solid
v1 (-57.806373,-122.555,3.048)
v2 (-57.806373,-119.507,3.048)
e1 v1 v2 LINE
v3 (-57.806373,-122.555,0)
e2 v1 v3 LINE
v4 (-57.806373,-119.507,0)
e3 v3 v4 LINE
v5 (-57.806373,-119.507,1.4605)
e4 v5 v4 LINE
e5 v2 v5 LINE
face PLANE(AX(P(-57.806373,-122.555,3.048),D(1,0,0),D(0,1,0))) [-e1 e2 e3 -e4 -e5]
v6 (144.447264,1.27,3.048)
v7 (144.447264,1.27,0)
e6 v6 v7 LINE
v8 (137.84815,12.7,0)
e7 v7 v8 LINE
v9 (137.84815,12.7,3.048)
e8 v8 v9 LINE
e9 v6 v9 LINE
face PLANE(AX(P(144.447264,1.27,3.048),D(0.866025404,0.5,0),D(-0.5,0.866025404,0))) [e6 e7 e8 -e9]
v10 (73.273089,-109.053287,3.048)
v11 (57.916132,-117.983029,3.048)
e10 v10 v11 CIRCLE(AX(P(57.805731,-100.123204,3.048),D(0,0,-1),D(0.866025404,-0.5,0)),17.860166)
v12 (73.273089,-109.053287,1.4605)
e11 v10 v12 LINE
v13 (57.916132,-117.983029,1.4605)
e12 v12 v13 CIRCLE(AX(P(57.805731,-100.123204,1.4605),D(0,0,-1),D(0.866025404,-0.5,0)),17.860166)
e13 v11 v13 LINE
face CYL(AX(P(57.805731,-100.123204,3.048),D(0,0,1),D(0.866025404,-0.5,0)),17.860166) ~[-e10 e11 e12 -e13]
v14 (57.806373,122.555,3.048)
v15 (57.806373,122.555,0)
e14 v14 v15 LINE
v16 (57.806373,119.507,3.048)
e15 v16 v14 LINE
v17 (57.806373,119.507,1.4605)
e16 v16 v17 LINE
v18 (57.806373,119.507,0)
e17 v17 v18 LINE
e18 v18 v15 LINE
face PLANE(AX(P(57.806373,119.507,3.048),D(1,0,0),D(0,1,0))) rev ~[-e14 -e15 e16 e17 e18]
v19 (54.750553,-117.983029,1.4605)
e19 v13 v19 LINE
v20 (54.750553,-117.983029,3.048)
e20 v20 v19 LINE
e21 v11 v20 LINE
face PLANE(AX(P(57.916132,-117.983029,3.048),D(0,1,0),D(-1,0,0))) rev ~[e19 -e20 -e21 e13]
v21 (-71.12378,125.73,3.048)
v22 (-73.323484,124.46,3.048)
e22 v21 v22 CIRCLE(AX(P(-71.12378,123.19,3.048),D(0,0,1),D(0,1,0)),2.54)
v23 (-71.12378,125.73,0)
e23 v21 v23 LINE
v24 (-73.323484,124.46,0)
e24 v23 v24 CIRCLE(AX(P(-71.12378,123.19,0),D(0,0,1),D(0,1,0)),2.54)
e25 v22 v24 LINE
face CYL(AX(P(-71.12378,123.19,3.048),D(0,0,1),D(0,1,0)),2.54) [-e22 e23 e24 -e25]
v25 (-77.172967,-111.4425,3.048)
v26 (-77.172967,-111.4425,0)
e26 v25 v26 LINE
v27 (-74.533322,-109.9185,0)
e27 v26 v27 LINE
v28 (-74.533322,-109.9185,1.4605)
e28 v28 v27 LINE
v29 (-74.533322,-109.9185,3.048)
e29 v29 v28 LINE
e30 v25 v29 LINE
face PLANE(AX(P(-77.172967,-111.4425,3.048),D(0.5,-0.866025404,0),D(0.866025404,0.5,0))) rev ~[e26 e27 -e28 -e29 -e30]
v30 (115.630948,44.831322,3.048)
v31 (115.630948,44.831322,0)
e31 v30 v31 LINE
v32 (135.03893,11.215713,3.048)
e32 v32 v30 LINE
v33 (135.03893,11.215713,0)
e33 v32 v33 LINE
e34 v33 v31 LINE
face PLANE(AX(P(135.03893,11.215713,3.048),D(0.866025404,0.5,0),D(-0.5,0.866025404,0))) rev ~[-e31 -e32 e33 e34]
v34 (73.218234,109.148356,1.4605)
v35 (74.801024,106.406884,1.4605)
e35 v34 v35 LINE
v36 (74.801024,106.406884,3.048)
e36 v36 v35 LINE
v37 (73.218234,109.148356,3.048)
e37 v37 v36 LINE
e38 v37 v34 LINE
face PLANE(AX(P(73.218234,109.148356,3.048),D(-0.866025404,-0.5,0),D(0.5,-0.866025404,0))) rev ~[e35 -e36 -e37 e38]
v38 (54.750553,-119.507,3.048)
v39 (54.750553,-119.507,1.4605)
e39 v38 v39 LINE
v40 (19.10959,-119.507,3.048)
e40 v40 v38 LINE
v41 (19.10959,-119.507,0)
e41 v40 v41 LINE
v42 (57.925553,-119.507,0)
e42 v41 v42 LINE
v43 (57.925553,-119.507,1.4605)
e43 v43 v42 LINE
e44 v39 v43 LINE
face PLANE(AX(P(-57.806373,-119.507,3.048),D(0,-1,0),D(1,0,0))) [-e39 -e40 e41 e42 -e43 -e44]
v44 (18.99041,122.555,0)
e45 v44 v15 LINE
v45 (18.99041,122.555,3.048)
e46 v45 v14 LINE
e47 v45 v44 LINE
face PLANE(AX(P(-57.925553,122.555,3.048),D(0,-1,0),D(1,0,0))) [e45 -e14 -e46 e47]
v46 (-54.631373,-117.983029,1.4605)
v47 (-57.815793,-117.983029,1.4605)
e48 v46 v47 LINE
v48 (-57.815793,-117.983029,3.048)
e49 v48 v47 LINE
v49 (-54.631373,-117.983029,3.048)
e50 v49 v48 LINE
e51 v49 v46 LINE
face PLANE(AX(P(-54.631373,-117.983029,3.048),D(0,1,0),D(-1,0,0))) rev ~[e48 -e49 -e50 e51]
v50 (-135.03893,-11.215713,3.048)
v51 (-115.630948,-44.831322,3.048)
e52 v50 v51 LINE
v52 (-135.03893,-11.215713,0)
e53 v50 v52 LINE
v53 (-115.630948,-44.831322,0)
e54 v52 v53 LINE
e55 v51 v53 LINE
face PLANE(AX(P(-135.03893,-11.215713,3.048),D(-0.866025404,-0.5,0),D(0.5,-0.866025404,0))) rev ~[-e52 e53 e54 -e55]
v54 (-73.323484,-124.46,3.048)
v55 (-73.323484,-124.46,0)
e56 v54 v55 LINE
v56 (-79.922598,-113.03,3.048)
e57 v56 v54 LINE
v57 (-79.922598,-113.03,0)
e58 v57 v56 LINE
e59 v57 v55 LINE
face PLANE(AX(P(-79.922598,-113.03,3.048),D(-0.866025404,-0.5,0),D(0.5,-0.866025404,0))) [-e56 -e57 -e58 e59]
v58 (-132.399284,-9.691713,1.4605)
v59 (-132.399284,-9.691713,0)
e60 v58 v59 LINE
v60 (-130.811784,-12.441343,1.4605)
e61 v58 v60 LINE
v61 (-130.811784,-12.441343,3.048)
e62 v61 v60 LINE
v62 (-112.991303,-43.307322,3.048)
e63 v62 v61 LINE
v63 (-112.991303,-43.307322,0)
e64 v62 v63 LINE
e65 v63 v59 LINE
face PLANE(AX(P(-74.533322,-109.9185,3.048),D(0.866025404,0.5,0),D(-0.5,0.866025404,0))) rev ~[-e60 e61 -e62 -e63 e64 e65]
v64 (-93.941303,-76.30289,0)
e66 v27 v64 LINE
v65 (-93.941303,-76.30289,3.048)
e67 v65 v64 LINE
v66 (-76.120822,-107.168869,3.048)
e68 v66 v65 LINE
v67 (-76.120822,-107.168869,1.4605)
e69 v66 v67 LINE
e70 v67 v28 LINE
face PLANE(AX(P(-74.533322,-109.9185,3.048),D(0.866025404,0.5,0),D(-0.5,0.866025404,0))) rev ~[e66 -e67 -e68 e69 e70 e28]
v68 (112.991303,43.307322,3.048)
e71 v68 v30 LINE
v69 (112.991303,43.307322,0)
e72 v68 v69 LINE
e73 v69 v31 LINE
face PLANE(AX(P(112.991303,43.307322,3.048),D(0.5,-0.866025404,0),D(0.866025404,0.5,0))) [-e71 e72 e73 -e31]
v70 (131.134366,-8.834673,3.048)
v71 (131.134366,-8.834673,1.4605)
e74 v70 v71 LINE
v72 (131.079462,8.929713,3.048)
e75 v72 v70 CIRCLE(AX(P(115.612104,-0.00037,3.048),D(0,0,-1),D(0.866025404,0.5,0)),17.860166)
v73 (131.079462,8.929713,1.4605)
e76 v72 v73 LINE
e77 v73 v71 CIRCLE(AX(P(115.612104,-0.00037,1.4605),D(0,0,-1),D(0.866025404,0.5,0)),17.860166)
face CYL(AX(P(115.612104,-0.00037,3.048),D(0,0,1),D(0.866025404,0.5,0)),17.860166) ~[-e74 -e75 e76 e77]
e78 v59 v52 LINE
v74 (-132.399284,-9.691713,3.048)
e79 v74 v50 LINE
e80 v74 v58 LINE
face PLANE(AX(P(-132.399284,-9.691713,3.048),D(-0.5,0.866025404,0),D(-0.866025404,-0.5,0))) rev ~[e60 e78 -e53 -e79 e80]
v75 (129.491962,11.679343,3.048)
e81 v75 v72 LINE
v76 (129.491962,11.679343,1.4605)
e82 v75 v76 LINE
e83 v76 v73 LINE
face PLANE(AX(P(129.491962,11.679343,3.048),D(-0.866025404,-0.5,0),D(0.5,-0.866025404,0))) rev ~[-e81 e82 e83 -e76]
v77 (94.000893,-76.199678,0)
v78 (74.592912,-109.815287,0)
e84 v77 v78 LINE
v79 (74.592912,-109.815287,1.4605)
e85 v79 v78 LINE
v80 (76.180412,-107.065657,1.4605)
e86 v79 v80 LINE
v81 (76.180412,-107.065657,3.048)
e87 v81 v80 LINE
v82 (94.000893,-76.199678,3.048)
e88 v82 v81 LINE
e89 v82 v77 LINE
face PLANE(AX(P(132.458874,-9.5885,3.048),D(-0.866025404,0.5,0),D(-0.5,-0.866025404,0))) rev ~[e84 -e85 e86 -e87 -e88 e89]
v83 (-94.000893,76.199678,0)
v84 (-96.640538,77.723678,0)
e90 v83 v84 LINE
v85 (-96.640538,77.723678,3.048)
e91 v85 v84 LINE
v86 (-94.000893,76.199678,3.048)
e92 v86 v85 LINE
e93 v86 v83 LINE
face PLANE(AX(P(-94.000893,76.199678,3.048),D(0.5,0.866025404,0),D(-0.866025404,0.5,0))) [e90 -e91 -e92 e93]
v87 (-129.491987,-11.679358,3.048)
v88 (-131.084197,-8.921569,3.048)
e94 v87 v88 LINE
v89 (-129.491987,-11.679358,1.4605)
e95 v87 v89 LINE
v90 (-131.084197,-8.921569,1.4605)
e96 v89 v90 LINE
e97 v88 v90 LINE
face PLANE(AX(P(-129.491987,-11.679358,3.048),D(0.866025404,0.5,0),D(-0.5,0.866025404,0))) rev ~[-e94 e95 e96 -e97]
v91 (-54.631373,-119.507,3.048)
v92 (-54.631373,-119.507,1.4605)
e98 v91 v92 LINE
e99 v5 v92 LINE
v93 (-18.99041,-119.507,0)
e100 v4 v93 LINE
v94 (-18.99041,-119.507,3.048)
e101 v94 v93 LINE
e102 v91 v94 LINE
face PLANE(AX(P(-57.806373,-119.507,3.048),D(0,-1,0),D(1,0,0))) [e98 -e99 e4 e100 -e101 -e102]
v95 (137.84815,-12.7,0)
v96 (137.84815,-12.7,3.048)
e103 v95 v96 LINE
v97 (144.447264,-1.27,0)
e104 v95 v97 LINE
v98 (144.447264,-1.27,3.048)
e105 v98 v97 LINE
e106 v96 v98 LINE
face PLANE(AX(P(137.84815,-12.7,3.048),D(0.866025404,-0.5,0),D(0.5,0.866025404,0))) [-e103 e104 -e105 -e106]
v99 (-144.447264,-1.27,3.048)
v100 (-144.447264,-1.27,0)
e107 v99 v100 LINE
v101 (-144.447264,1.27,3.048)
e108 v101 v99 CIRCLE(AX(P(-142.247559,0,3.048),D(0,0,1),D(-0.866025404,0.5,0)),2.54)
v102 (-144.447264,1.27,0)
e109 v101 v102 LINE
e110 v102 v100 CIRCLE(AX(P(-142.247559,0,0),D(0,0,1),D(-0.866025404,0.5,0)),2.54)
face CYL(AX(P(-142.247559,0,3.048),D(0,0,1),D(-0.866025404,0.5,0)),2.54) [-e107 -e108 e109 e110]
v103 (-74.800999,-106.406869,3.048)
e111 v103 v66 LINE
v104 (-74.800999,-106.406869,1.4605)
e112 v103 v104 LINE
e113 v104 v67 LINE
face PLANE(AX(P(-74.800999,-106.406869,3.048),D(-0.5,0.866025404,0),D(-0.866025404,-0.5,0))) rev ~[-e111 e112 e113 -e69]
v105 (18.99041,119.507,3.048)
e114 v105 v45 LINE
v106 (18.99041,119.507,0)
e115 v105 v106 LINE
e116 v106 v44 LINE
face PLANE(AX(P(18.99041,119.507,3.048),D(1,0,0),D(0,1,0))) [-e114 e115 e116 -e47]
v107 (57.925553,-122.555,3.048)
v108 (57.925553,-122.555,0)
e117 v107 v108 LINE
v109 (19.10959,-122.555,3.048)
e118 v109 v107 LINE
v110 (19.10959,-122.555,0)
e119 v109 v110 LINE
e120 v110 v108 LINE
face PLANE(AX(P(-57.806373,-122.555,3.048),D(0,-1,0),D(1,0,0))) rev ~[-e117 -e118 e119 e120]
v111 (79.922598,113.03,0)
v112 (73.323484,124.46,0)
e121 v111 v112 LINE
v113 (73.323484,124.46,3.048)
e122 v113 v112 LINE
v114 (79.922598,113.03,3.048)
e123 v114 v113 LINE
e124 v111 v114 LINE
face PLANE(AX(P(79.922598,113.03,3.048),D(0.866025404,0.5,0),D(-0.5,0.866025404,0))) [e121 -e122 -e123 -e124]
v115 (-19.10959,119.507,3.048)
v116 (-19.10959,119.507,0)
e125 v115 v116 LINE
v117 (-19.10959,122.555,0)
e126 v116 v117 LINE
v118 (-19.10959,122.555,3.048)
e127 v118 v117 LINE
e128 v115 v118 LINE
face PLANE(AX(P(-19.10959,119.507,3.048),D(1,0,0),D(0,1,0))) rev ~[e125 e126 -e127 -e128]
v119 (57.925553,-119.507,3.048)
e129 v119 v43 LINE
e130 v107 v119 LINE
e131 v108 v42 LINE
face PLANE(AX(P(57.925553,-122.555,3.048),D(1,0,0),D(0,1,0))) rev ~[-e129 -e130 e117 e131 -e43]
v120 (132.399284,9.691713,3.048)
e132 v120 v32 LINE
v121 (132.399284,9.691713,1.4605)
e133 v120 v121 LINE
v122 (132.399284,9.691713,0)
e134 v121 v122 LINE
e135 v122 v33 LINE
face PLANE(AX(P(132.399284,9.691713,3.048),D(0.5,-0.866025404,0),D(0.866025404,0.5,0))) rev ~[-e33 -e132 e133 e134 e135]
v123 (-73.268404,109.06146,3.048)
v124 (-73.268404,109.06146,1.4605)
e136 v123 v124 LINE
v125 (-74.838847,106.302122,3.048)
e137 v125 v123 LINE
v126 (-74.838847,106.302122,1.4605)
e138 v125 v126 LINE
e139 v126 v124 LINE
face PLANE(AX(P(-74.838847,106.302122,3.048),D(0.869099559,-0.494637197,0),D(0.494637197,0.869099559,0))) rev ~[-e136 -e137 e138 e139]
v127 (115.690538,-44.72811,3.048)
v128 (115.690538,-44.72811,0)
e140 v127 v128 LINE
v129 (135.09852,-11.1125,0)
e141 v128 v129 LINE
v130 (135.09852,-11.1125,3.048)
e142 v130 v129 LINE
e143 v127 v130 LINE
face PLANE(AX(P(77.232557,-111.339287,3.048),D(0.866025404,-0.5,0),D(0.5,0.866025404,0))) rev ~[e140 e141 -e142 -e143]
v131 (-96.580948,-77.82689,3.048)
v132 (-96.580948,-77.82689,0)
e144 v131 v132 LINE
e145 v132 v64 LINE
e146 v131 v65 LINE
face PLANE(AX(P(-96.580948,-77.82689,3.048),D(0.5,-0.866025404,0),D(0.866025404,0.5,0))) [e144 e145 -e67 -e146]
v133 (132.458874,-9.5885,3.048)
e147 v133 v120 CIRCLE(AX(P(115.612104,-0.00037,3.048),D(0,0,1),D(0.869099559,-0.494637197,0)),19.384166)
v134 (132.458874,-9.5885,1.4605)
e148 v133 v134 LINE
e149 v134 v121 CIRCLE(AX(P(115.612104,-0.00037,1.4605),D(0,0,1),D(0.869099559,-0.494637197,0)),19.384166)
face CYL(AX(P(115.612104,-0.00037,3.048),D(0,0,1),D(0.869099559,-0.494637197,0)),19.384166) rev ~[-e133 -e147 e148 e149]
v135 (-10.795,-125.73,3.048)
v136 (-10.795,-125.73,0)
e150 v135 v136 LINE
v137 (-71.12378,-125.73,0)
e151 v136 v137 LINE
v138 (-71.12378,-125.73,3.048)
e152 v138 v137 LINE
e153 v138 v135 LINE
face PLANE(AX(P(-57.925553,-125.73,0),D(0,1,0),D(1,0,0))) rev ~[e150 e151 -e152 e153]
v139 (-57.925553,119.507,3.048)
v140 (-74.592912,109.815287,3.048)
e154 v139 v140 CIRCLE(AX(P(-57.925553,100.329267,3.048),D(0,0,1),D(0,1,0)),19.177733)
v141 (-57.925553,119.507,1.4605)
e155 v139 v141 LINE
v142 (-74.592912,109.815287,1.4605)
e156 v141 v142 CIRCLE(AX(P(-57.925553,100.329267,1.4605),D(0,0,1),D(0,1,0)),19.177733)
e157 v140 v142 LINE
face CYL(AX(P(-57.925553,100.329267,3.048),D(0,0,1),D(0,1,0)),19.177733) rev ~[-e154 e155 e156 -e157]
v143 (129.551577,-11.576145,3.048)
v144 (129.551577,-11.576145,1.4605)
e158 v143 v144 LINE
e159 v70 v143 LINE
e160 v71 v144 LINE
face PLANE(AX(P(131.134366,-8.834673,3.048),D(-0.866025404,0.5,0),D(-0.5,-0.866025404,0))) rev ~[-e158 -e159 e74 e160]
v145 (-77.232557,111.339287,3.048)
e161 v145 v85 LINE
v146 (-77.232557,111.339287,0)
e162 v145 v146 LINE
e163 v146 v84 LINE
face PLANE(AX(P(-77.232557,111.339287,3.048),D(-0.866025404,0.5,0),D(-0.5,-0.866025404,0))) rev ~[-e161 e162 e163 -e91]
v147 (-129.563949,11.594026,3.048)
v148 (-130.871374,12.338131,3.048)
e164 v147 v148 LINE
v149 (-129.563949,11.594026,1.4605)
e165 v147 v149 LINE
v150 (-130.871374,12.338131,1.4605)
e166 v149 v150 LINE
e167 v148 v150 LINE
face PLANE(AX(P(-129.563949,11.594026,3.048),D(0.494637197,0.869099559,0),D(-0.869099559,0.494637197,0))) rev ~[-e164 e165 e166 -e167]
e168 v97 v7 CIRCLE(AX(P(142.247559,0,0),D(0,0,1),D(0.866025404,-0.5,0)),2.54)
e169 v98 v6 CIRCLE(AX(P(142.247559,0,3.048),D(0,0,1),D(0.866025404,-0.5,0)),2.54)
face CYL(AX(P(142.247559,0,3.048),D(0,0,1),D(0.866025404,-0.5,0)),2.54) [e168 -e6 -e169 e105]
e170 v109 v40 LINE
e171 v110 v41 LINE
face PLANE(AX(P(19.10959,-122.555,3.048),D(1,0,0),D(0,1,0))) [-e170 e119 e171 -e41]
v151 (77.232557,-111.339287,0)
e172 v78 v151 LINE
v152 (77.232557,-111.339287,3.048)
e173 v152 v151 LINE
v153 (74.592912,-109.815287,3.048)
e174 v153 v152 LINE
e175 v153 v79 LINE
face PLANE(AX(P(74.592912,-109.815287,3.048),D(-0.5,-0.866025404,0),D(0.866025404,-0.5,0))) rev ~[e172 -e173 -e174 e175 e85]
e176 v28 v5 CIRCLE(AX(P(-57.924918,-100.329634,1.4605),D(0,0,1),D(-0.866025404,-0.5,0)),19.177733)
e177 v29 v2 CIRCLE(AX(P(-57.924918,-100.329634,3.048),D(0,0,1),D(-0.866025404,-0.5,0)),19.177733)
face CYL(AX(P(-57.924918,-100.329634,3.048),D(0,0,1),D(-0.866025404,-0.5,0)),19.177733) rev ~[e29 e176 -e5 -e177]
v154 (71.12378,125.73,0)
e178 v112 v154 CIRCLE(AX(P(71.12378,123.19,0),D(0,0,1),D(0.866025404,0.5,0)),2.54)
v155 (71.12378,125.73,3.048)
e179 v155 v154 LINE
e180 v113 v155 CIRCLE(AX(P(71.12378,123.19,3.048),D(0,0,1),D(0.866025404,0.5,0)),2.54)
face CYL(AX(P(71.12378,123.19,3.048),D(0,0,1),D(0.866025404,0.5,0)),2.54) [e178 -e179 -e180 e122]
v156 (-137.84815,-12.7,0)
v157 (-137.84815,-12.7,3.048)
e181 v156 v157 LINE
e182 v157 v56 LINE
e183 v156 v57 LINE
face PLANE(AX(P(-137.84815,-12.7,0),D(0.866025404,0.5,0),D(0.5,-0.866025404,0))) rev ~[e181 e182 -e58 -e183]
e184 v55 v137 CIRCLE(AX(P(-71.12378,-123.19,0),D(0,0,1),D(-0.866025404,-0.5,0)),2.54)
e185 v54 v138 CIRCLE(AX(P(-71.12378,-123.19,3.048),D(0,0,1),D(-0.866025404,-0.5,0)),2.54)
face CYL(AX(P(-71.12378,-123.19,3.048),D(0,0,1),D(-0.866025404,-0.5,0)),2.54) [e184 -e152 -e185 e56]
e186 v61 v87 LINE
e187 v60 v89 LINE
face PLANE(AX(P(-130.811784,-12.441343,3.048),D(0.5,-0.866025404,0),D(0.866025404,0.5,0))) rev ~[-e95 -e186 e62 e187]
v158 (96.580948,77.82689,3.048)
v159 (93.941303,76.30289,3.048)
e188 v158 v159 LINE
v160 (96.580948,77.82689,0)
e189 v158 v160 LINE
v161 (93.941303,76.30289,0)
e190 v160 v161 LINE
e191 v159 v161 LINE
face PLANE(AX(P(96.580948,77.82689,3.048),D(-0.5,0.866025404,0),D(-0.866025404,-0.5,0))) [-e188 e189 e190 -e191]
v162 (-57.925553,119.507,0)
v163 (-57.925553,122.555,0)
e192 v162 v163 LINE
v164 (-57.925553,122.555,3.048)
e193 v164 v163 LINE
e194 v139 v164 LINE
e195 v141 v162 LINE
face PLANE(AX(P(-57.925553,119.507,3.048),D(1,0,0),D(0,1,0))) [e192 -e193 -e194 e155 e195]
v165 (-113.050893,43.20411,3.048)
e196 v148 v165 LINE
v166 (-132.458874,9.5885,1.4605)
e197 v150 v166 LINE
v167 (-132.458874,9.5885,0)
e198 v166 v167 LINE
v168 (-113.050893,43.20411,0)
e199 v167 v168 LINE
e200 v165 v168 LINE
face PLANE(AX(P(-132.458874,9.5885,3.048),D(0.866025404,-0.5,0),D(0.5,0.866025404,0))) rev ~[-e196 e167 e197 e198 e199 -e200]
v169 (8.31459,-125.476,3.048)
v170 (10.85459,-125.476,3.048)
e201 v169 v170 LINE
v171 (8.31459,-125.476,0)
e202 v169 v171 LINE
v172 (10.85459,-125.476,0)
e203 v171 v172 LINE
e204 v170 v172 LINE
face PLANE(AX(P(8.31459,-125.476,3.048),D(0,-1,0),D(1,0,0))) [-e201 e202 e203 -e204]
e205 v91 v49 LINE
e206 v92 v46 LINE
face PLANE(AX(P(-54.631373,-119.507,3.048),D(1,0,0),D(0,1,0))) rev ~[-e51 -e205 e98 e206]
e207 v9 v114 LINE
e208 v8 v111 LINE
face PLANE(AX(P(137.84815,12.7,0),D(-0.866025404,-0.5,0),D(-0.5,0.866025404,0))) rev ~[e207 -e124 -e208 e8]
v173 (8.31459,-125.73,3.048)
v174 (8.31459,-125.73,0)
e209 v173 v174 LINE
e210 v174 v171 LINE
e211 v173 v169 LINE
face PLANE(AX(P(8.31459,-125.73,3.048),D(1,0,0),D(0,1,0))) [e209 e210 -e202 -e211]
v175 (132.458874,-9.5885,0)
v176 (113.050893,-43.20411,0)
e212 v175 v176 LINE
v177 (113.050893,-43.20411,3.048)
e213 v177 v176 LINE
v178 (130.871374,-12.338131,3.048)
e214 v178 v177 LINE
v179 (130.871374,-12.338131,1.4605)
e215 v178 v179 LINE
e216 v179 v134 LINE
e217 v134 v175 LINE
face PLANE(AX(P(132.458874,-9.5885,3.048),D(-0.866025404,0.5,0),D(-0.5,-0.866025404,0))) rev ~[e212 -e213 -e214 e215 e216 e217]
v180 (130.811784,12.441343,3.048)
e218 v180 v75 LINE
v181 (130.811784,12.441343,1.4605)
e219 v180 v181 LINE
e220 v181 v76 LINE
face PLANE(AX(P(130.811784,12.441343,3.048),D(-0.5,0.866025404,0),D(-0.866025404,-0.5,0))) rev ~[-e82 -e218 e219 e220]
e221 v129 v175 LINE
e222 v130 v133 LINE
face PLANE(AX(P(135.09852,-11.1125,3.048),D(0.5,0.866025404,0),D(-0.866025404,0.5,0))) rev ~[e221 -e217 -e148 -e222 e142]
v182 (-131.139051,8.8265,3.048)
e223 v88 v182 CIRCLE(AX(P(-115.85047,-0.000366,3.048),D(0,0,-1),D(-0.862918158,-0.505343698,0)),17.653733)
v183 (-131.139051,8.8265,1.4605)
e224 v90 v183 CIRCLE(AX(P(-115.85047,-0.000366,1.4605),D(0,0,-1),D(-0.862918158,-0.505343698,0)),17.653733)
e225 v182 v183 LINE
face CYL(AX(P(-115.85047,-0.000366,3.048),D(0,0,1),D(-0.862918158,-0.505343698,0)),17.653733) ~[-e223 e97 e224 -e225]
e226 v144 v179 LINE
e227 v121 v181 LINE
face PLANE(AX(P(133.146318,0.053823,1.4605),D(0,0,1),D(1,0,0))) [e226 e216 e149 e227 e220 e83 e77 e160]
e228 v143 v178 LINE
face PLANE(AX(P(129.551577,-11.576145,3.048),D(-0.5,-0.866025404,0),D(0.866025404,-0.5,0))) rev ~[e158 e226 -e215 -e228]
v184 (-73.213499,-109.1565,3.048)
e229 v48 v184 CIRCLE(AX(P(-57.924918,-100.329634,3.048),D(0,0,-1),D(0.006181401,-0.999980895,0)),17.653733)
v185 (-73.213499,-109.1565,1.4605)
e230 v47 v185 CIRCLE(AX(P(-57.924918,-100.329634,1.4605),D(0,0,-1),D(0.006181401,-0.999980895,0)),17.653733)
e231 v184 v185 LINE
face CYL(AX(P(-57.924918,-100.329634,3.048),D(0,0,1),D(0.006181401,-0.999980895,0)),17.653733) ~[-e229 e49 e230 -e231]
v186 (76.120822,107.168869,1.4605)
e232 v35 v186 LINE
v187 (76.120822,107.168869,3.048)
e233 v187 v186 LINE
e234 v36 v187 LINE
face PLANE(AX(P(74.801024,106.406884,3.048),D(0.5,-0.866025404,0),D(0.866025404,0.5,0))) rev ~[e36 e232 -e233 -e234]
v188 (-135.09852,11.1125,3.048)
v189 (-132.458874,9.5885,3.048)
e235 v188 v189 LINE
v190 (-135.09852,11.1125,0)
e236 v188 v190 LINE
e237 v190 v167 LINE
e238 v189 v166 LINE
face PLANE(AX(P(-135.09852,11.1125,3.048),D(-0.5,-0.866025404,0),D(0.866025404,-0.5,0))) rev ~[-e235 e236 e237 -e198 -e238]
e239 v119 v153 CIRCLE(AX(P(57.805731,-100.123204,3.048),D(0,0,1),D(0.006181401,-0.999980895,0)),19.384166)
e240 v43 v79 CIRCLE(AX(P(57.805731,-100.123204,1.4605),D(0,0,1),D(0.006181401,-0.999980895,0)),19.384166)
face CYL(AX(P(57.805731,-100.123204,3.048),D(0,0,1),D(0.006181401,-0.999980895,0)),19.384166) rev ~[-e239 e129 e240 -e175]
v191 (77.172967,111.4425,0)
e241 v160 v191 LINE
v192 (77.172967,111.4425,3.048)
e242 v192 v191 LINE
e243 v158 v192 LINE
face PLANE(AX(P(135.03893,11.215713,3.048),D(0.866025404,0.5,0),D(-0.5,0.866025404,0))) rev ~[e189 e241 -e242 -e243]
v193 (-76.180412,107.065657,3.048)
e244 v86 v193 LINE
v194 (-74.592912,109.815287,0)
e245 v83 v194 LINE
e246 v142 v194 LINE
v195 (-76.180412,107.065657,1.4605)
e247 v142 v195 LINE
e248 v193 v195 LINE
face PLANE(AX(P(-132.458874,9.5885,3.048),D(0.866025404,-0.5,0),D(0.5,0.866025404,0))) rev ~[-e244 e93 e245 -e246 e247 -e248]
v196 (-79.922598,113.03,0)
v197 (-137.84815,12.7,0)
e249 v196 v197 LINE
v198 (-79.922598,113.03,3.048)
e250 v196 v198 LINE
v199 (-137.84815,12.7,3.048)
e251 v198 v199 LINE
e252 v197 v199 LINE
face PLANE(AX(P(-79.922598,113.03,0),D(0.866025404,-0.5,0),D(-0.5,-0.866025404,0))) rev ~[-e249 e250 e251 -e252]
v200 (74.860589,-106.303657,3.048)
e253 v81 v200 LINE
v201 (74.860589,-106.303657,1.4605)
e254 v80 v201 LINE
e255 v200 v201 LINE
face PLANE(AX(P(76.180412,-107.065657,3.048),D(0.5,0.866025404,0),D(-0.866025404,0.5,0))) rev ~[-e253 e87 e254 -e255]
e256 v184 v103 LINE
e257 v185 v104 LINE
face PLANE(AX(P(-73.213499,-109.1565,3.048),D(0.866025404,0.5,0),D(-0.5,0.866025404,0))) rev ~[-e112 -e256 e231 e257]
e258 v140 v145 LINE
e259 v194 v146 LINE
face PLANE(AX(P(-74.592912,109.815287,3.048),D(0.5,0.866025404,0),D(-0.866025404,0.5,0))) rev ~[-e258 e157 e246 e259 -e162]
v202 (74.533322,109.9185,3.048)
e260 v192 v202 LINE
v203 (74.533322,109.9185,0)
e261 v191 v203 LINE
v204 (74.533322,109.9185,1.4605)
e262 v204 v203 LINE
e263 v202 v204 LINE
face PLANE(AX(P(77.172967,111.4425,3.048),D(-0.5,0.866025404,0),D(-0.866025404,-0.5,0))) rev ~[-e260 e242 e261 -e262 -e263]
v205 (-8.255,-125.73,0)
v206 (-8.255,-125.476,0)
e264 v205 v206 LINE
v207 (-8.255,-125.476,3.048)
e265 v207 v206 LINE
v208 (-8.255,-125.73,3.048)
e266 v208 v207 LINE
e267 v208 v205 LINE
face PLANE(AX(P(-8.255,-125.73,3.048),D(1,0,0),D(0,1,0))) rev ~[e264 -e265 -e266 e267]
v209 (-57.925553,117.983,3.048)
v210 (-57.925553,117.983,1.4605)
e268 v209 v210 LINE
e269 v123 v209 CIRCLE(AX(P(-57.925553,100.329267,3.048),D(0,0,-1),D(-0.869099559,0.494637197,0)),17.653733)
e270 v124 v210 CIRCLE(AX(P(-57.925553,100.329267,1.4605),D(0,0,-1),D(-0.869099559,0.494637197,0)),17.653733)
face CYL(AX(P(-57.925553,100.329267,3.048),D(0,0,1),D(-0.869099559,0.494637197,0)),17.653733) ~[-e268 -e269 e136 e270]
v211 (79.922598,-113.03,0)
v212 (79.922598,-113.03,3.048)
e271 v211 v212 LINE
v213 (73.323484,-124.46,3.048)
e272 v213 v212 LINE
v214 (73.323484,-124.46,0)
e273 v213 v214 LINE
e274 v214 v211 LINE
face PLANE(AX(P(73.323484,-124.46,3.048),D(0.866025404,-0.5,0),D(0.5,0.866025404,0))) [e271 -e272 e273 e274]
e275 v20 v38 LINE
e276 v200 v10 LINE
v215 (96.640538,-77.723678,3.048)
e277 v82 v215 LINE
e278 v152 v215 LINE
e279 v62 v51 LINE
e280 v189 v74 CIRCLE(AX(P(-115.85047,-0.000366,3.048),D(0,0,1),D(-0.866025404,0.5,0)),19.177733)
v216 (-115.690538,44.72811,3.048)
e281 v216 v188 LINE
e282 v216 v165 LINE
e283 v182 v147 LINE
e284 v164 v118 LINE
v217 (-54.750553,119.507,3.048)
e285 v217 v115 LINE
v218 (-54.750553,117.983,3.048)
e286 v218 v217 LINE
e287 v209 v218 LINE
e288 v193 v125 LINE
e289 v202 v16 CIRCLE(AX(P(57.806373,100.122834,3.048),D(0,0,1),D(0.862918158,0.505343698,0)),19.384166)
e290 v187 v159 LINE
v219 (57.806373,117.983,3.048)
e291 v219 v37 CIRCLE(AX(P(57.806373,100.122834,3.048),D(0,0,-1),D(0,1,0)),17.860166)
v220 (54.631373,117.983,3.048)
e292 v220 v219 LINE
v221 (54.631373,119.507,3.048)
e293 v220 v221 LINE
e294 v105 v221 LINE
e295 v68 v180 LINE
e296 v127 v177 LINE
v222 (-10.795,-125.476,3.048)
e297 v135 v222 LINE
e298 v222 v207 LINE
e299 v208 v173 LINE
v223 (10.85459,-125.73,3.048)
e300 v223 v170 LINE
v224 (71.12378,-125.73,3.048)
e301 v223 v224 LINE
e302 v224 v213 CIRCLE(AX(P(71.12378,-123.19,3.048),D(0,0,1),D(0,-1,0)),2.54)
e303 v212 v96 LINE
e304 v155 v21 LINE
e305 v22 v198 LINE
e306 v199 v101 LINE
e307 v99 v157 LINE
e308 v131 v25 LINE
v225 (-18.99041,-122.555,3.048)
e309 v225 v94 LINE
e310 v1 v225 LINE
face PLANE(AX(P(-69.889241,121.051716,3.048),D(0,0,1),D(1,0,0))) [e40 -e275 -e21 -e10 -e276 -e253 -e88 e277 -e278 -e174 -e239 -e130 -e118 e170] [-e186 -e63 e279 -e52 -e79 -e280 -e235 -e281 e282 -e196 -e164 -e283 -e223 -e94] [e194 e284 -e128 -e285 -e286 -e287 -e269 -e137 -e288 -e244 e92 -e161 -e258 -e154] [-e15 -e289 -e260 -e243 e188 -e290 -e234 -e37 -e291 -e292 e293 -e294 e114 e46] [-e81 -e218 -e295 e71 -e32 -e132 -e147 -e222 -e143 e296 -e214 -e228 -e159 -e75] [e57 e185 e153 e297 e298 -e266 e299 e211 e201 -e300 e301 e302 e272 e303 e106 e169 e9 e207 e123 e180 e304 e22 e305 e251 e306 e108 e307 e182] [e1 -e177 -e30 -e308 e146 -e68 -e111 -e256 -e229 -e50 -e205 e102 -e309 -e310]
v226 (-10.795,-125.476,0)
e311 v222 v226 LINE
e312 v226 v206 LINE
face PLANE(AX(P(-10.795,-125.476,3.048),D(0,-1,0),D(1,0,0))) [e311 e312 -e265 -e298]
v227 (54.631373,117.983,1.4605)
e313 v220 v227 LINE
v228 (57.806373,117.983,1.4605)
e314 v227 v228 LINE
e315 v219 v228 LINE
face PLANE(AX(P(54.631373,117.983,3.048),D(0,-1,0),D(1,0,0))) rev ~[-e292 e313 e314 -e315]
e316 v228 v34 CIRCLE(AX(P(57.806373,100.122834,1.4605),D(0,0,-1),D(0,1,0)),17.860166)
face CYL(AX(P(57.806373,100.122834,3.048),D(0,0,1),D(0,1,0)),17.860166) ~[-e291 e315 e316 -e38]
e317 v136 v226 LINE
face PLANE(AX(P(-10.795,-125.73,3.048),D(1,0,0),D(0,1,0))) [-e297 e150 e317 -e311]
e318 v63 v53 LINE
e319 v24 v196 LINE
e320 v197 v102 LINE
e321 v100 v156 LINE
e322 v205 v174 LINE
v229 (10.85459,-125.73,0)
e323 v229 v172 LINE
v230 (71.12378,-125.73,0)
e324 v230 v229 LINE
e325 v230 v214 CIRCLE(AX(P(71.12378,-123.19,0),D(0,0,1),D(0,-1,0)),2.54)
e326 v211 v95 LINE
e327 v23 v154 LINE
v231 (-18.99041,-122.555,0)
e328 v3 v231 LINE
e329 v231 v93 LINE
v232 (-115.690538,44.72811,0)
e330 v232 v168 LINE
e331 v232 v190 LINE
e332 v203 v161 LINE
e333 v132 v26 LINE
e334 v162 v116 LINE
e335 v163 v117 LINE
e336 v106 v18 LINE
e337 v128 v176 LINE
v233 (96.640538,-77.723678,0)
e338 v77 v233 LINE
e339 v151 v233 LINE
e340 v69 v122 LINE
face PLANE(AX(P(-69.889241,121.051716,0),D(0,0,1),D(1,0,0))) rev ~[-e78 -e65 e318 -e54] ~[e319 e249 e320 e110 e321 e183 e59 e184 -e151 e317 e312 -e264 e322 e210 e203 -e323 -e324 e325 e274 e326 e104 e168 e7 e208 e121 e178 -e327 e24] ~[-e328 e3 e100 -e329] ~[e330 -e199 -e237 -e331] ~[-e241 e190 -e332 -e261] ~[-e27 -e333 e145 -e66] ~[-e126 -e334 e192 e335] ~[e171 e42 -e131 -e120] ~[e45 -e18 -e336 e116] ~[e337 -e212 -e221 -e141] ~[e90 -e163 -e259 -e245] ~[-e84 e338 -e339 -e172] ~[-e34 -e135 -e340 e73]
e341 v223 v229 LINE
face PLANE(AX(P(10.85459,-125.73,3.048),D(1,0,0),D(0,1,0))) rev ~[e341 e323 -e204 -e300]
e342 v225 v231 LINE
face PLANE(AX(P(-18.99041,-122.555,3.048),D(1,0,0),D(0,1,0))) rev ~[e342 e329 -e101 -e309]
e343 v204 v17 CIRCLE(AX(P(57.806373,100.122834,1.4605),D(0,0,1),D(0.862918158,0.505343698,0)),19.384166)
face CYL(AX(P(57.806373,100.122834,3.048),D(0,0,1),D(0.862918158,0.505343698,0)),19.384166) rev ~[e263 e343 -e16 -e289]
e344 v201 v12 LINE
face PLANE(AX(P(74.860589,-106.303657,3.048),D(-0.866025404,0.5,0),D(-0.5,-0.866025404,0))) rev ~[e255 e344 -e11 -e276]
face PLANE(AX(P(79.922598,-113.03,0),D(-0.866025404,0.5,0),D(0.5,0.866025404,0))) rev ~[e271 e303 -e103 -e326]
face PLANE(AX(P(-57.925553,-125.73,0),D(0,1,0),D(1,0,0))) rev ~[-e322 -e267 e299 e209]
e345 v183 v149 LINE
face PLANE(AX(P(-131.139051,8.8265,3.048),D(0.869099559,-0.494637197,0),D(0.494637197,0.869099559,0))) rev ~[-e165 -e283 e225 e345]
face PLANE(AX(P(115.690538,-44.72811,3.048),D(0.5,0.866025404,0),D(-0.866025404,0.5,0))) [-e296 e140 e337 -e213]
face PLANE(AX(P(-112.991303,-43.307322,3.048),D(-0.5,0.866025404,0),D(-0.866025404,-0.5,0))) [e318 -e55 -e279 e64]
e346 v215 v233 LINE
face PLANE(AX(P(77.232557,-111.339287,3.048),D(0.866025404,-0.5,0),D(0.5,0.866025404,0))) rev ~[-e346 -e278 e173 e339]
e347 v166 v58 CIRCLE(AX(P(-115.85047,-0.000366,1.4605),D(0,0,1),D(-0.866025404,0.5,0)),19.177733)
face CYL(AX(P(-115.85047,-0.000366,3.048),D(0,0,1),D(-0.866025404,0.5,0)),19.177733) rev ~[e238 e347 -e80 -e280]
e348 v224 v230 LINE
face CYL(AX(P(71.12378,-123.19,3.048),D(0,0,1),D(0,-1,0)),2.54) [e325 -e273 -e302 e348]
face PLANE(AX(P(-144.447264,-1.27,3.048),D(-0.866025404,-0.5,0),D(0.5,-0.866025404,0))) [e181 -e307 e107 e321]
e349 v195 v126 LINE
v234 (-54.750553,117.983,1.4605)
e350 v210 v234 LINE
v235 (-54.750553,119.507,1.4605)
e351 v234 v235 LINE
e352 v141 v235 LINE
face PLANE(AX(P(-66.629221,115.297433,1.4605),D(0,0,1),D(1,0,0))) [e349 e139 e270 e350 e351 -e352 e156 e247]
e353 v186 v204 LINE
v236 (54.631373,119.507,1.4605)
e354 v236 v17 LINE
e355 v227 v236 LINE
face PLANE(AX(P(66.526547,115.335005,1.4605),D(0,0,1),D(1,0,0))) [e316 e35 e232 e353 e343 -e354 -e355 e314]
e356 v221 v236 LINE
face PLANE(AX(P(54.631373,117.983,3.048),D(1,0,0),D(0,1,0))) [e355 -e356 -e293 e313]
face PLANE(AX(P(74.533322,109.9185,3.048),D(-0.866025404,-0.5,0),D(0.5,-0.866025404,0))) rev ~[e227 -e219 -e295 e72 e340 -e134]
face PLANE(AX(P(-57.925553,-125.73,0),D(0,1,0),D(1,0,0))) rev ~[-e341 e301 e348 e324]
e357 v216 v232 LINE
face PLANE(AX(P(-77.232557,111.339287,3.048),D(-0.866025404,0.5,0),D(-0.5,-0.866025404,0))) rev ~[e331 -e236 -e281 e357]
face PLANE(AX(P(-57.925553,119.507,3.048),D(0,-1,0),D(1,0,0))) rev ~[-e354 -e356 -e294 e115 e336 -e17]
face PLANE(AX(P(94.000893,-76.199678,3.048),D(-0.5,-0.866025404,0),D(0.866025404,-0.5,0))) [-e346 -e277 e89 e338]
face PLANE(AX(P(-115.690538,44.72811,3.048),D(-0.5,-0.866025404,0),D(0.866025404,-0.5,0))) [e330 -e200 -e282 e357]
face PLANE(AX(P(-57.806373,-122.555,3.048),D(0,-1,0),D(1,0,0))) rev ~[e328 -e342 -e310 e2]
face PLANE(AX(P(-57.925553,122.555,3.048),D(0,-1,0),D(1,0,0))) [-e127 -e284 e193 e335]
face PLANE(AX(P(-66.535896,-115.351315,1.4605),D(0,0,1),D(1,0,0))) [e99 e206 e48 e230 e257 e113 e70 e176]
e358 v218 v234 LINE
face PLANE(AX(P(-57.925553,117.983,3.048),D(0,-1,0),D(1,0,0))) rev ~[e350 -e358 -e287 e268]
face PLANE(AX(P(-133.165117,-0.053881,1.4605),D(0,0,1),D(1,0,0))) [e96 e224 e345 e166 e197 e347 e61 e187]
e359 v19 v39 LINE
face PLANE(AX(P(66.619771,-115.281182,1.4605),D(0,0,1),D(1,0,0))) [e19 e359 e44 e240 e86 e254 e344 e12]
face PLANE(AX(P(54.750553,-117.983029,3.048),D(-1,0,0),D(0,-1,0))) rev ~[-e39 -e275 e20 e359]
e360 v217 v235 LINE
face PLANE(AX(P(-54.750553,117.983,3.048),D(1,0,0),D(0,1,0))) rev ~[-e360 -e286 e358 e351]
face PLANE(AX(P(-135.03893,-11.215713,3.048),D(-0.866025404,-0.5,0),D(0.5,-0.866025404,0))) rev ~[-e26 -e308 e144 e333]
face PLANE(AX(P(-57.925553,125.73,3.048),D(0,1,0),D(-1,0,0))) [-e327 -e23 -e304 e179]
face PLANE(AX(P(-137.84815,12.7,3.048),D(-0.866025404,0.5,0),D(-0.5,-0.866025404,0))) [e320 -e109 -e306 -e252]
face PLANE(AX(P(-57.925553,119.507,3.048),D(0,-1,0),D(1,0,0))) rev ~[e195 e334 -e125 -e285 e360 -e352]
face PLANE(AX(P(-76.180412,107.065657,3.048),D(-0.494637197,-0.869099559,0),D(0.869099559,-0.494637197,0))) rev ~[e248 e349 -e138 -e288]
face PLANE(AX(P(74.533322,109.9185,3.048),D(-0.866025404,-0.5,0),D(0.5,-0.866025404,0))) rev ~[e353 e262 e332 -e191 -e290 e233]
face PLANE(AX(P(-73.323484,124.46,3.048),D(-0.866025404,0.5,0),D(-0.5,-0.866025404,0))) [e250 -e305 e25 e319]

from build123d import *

# Parameters (mm, degrees)
F1_DEPTH  = 3.048
F2_W      = 115.7319251503
F2_H      = 3.048
F3_DEPTH  = 3.049
F5_W      = 2.54
F5_H      = 0.254
F6_DEPTH  = 3.049
F8_DEPTH  = 3.048
F9_W      = 3.175
F9_H      = 1.524
F10_DEPTH = 1.5875
F11_W     = 38.1
F11_H     = 3.048
F12_DEPTH = 3.048


with BuildPart() as f1:
    # F0 (on Top) → F1 (new body)
    with BuildSketch(Plane.XY):
        with BuildLine():
            Line((-79.9225977639, 113.03), (-137.8481502717, 12.7))
            ThreePointArc((-137.8481502717, 12.7), (-141.2511050156, 0), (-137.8481502717, -12.7))
            Line((-137.8481502717, -12.7), (-79.9225977639, -113.03))
            ThreePointArc((-79.9225977639, -113.03), (-70.6255525078, -122.3270452561), (-57.9255525078, -125.73))
            Line((-57.9255525078, -125.73), (57.9255525078, -125.73))
            ThreePointArc((57.9255525078, -125.73), (70.6255525078, -122.3270452561), (79.9225977639, -113.03))
            Line((79.9225977639, -113.03), (137.8481502717, -12.7))
            ThreePointArc((137.8481502717, -12.7), (141.2511050156, 0), (137.8481502717, 12.7))
            Line((137.8481502717, 12.7), (79.9225977639, 113.03))
            ThreePointArc((79.9225977639, 113.03), (70.6255525078, 122.3270452561), (57.9255525078, 125.73))
            Line((57.9255525078, 125.73), (-57.9255525078, 125.73))
            ThreePointArc((-57.9255525078, 125.73), (-70.6255525078, 122.3270452561), (-79.9225977639, 113.03))
        make_face()
    extrude(amount=F1_DEPTH)

    # F2 (on face) → F3 (cut, through all)
    with BuildSketch(Plane.XY.offset(3.048)):
        Polygon((-135.0389296821, -11.215712791), (-77.1729671069, -111.4425), (-74.5333216761, -109.9185), (-132.3992842513, -9.6917127909), align=None)
        Polygon((-77.2325570395, 111.339287209), (-135.0985196147, 11.1125), (-132.4588741839, 9.5885), (-74.5929116088, 109.8152872091), align=None)
        with Locations((-0.0595899326, 121.031)):
            Rectangle(F2_W, F2_H)
        Polygon((135.0389296821, 11.215712791), (77.1729671069, 111.4425), (74.5333216761, 109.9185), (132.3992842513, 9.691712791), align=None)
        Polygon((77.2325570395, -111.339287209), (135.0985196147, -11.1125), (132.4588741839, -9.5885), (74.5929116088, -109.815287209), align=None)
        with Locations((0.0595899326, -121.031)):
            Rectangle(F2_W, F2_H)
    extrude(amount=-F3_DEPTH, mode=Mode.SUBTRACT)

    # F5 (on face) → F6 (cut, through all)
    with BuildSketch(Plane.XY.offset(3.048)):
        with Locations((-9.525, -125.603)):
            Rectangle(F5_W, F5_H)
        with Locations((9.5845899326, -125.603)):
            Rectangle(F5_W, F5_H)
    extrude(amount=-F6_DEPTH, mode=Mode.SUBTRACT)

    # F7 (on face) → F8 (join)
    with BuildSketch(Plane.XY.offset(3.048)):
        with BuildLine():
            Line((-73.3234841871, 124.46), (-79.9225977639, 113.03))
            Line((-79.9225977639, 113.03), (-57.9255525078, 125.73))
            Line((-57.9255525078, 125.73), (-71.1237796615, 125.73))
            ThreePointArc((-71.1237796615, 125.73), (-72.3937796615, 125.3897045256), (-73.3234841871, 124.46))
        make_face()
        with BuildLine():
            ThreePointArc((-137.8481502717, -12.7), (-141.2511050156, 0), (-137.8481502717, 12.7))
            Line((-137.8481502717, 12.7), (-144.4472638486, 1.27))
            ThreePointArc((-144.4472638486, 1.27), (-144.7875593229, 0), (-144.4472638486, -1.27))
            Line((-144.4472638486, -1.27), (-137.8481502717, -12.7))
        make_face()
        with BuildLine():
            ThreePointArc((-57.9255525078, -125.73), (-70.6255525078, -122.3270452561), (-79.9225977639, -113.03))
            Line((-79.9225977639, -113.03), (-73.3234841871, -124.46))
            ThreePointArc((-73.3234841871, -124.46), (-72.3937796615, -125.3897045256), (-71.1237796615, -125.73))
            Line((-71.1237796615, -125.73), (-57.9255525078, -125.73))
        make_face()
        with BuildLine():
            Line((73.3234841871, -124.46), (79.9225977639, -113.03))
            ThreePointArc((79.9225977639, -113.03), (70.6255525078, -122.3270452561), (57.9255525078, -125.73))
            Line((57.9255525078, -125.73), (71.1237796615, -125.73))
            ThreePointArc((71.1237796615, -125.73), (72.3937796615, -125.3897045256), (73.3234841871, -124.46))
        make_face()
        with BuildLine():
            Line((144.4472638486, 1.27), (137.8481502717, 12.7))
            ThreePointArc((137.8481502717, 12.7), (141.2511050156, 0), (137.8481502717, -12.7))
            Line((137.8481502717, -12.7), (144.4472638486, -1.27))
            ThreePointArc((144.4472638486, -1.27), (144.7875593229, 0), (144.4472638486, 1.27))
        make_face()
        with BuildLine():
            Line((71.1237796615, 125.73), (57.9255525078, 125.73))
            ThreePointArc((57.9255525078, 125.73), (70.6255525078, 122.3270452561), (79.9225977639, 113.03))
            Line((79.9225977639, 113.03), (73.3234841871, 124.46))
            ThreePointArc((73.3234841871, 124.46), (72.3937796615, 125.3897045256), (71.1237796615, 125.73))
        make_face()
    extrude(amount=-F8_DEPTH)

    # F9 (on face) → F10 (cut)
    with BuildSketch(Plane.XY.offset(3.048)):
        with BuildLine():
            Line((-57.9255525078, 117.983), (-57.9255525078, 119.507))
            ThreePointArc((-57.9255525078, 119.507), (-67.5657049473, 116.9079552121), (-74.5929116088, 109.8152872091))
            Line((-74.5929116088, 109.8152872091), (-73.2684038811, 109.0614601206))
            ThreePointArc((-73.2684038811, 109.0614601206), (-66.7996293906, 115.5904939256), (-57.9255525078, 117.983))
        make_face()
        with Locations((-56.3380525078, 118.745)):
            Rectangle(F9_W, F9_H)
        Polygon((-73.2684038811, 109.0614601206), (-74.5929116088, 109.8152872091), (-76.1804116088, 107.065656552), (-74.8388469782, 106.3021217395), align=None)
        with BuildLine():
            Line((73.2182344036, 109.1483562046), (74.5333216761, 109.9185))
            ThreePointArc((74.5333216761, 109.9185), (67.446525082, 116.9398894425), (57.8063726425, 119.507))
            Line((57.8063726425, 119.507), (57.8063726425, 117.983))
            ThreePointArc((57.8063726425, 117.983), (66.6886079177, 115.6177179059), (73.2182344036, 109.1483562046))
        make_face()
        Polygon((76.1208216761, 107.168869343), (74.5333216761, 109.9185), (73.2182344036, 109.1483562046), (74.801024176, 106.406883901), align=None)
        with Locations((56.2188726425, 118.745)):
            Rectangle(F9_W, F9_H)
        with BuildLine():
            Line((-131.1390514686, 8.8265), (-132.4588741839, 9.5885))
            ThreePointArc((-132.4588741839, 9.5885), (-135.0281115918, -0.0596393029), (-132.3992842513, -9.6917127909))
            Line((-132.3992842513, -9.6917127909), (-131.0841969788, -8.9215689955))
            ThreePointArc((-131.0841969788, -8.9215689955), (-133.5041188708, -0.0549290528), (-131.1390514686, 8.8265))
        make_face()
        Polygon((-130.8713741839, 12.338130657), (-132.4588741839, 9.5885), (-131.1390514686, 8.8265), (-129.563948664, 11.5940256944), align=None)
        Polygon((-131.0841969788, -8.9215689955), (-132.3992842513, -9.6917127909), (-130.8117842513, -12.4413434479), (-129.4919867512, -11.679358006), align=None)
        with BuildLine():
            Line((-73.2134989608, -109.1565), (-74.5333216761, -109.9185))
            ThreePointArc((-74.5333216761, -109.9185), (-67.4624066445, -116.9675945149), (-57.8063726425, -119.507))
            Line((-57.8063726425, -119.507), (-57.8157930976, -117.983029116))
            ThreePointArc((-57.8157930976, -117.983029116), (-66.7044894803, -115.6454229784), (-73.2134989608, -109.1565))
        make_face()
        Polygon((-76.1208216761, -107.1688693429), (-74.5333216761, -109.9185), (-73.2134989608, -109.1565), (-74.8009989608, -106.4068693429), align=None)
        Polygon((-57.8157930976, -117.983029116), (-57.8063726425, -119.507), (-54.6313726425, -119.507), (-54.6313726425, -117.983029116), align=None)
        with BuildLine():
            Line((57.9161320527, -117.983029116), (57.9255525078, -119.507))
            ThreePointArc((57.9255525078, -119.507), (67.5496524319, -116.8803488392), (74.5929116088, -109.815287209))
            Line((74.5929116088, -109.815287209), (73.2730888934, -109.053287209))
            ThreePointArc((73.2730888934, -109.053287209), (66.7835768752, -115.5628875527), (57.9161320527, -117.983029116))
        make_face()
        Polygon((54.7505525078, -119.507), (57.9255525078, -119.507), (57.9161320527, -117.983029116), (54.7505525078, -117.983029116), align=None)
        Polygon((73.2730888934, -109.053287209), (74.5929116088, -109.815287209), (76.1804116088, -107.065656552), (74.8605888934, -106.303656552), align=None)
        with BuildLine():
            Line((131.1343664563, -8.8346729115), (132.4588741839, -9.5885))
            ThreePointArc((132.4588741839, -9.5885), (134.9961775139, 0.0595406033), (132.3992842513, 9.691712791))
            Line((132.3992842513, 9.691712791), (131.0794615359, 8.929712791))
            ThreePointArc((131.0794615359, 8.929712791), (133.4721847929, 0.0548303532), (131.1343664563, -8.8346729115))
        make_face()
        Polygon((130.8713741839, -12.338130657), (132.4588741839, -9.5885), (131.1343664563, -8.8346729115), (129.5515766838, -11.576145215), align=None)
        Polygon((131.0794615359, 8.929712791), (132.3992842513, 9.691712791), (130.8117842513, 12.441343448), (129.4919615359, 11.679343448), align=None)
    extrude(amount=-F10_DEPTH, mode=Mode.SUBTRACT)

    # F11 (on face) → F12 (join, through all)
    with BuildSketch(Plane.XY.offset(3.048)):
        with Locations((-0.0595899326, 121.031)):
            Rectangle(F11_W, F11_H)
        Polygon((-96.6405383271, 77.7236775466), (-115.6905383271, 44.7281096624), (-113.0508928964, 43.2041096624), (-94.0008928964, 76.1996775466), align=None)
        Polygon((-115.6309483945, -44.8313224534), (-96.5809483945, -77.8268903376), (-93.9413029637, -76.3028903376), (-112.9913029637, -43.3073224534), align=None)
        with Locations((0.0595899326, -121.031)):
            Rectangle(F11_W, F11_H)
        Polygon((96.6405383271, -77.7236775466), (115.6905383271, -44.7281096624), (113.0508928964, -43.2041096624), (94.0008928964, -76.1996775466), align=None)
        Polygon((115.6309483945, 44.8313224534), (96.5809483945, 77.8268903376), (93.9413029637, 76.3028903376), (112.9913029637, 43.3073224534), align=None)
    extrude(amount=-F12_DEPTH)


solid = f1.part
